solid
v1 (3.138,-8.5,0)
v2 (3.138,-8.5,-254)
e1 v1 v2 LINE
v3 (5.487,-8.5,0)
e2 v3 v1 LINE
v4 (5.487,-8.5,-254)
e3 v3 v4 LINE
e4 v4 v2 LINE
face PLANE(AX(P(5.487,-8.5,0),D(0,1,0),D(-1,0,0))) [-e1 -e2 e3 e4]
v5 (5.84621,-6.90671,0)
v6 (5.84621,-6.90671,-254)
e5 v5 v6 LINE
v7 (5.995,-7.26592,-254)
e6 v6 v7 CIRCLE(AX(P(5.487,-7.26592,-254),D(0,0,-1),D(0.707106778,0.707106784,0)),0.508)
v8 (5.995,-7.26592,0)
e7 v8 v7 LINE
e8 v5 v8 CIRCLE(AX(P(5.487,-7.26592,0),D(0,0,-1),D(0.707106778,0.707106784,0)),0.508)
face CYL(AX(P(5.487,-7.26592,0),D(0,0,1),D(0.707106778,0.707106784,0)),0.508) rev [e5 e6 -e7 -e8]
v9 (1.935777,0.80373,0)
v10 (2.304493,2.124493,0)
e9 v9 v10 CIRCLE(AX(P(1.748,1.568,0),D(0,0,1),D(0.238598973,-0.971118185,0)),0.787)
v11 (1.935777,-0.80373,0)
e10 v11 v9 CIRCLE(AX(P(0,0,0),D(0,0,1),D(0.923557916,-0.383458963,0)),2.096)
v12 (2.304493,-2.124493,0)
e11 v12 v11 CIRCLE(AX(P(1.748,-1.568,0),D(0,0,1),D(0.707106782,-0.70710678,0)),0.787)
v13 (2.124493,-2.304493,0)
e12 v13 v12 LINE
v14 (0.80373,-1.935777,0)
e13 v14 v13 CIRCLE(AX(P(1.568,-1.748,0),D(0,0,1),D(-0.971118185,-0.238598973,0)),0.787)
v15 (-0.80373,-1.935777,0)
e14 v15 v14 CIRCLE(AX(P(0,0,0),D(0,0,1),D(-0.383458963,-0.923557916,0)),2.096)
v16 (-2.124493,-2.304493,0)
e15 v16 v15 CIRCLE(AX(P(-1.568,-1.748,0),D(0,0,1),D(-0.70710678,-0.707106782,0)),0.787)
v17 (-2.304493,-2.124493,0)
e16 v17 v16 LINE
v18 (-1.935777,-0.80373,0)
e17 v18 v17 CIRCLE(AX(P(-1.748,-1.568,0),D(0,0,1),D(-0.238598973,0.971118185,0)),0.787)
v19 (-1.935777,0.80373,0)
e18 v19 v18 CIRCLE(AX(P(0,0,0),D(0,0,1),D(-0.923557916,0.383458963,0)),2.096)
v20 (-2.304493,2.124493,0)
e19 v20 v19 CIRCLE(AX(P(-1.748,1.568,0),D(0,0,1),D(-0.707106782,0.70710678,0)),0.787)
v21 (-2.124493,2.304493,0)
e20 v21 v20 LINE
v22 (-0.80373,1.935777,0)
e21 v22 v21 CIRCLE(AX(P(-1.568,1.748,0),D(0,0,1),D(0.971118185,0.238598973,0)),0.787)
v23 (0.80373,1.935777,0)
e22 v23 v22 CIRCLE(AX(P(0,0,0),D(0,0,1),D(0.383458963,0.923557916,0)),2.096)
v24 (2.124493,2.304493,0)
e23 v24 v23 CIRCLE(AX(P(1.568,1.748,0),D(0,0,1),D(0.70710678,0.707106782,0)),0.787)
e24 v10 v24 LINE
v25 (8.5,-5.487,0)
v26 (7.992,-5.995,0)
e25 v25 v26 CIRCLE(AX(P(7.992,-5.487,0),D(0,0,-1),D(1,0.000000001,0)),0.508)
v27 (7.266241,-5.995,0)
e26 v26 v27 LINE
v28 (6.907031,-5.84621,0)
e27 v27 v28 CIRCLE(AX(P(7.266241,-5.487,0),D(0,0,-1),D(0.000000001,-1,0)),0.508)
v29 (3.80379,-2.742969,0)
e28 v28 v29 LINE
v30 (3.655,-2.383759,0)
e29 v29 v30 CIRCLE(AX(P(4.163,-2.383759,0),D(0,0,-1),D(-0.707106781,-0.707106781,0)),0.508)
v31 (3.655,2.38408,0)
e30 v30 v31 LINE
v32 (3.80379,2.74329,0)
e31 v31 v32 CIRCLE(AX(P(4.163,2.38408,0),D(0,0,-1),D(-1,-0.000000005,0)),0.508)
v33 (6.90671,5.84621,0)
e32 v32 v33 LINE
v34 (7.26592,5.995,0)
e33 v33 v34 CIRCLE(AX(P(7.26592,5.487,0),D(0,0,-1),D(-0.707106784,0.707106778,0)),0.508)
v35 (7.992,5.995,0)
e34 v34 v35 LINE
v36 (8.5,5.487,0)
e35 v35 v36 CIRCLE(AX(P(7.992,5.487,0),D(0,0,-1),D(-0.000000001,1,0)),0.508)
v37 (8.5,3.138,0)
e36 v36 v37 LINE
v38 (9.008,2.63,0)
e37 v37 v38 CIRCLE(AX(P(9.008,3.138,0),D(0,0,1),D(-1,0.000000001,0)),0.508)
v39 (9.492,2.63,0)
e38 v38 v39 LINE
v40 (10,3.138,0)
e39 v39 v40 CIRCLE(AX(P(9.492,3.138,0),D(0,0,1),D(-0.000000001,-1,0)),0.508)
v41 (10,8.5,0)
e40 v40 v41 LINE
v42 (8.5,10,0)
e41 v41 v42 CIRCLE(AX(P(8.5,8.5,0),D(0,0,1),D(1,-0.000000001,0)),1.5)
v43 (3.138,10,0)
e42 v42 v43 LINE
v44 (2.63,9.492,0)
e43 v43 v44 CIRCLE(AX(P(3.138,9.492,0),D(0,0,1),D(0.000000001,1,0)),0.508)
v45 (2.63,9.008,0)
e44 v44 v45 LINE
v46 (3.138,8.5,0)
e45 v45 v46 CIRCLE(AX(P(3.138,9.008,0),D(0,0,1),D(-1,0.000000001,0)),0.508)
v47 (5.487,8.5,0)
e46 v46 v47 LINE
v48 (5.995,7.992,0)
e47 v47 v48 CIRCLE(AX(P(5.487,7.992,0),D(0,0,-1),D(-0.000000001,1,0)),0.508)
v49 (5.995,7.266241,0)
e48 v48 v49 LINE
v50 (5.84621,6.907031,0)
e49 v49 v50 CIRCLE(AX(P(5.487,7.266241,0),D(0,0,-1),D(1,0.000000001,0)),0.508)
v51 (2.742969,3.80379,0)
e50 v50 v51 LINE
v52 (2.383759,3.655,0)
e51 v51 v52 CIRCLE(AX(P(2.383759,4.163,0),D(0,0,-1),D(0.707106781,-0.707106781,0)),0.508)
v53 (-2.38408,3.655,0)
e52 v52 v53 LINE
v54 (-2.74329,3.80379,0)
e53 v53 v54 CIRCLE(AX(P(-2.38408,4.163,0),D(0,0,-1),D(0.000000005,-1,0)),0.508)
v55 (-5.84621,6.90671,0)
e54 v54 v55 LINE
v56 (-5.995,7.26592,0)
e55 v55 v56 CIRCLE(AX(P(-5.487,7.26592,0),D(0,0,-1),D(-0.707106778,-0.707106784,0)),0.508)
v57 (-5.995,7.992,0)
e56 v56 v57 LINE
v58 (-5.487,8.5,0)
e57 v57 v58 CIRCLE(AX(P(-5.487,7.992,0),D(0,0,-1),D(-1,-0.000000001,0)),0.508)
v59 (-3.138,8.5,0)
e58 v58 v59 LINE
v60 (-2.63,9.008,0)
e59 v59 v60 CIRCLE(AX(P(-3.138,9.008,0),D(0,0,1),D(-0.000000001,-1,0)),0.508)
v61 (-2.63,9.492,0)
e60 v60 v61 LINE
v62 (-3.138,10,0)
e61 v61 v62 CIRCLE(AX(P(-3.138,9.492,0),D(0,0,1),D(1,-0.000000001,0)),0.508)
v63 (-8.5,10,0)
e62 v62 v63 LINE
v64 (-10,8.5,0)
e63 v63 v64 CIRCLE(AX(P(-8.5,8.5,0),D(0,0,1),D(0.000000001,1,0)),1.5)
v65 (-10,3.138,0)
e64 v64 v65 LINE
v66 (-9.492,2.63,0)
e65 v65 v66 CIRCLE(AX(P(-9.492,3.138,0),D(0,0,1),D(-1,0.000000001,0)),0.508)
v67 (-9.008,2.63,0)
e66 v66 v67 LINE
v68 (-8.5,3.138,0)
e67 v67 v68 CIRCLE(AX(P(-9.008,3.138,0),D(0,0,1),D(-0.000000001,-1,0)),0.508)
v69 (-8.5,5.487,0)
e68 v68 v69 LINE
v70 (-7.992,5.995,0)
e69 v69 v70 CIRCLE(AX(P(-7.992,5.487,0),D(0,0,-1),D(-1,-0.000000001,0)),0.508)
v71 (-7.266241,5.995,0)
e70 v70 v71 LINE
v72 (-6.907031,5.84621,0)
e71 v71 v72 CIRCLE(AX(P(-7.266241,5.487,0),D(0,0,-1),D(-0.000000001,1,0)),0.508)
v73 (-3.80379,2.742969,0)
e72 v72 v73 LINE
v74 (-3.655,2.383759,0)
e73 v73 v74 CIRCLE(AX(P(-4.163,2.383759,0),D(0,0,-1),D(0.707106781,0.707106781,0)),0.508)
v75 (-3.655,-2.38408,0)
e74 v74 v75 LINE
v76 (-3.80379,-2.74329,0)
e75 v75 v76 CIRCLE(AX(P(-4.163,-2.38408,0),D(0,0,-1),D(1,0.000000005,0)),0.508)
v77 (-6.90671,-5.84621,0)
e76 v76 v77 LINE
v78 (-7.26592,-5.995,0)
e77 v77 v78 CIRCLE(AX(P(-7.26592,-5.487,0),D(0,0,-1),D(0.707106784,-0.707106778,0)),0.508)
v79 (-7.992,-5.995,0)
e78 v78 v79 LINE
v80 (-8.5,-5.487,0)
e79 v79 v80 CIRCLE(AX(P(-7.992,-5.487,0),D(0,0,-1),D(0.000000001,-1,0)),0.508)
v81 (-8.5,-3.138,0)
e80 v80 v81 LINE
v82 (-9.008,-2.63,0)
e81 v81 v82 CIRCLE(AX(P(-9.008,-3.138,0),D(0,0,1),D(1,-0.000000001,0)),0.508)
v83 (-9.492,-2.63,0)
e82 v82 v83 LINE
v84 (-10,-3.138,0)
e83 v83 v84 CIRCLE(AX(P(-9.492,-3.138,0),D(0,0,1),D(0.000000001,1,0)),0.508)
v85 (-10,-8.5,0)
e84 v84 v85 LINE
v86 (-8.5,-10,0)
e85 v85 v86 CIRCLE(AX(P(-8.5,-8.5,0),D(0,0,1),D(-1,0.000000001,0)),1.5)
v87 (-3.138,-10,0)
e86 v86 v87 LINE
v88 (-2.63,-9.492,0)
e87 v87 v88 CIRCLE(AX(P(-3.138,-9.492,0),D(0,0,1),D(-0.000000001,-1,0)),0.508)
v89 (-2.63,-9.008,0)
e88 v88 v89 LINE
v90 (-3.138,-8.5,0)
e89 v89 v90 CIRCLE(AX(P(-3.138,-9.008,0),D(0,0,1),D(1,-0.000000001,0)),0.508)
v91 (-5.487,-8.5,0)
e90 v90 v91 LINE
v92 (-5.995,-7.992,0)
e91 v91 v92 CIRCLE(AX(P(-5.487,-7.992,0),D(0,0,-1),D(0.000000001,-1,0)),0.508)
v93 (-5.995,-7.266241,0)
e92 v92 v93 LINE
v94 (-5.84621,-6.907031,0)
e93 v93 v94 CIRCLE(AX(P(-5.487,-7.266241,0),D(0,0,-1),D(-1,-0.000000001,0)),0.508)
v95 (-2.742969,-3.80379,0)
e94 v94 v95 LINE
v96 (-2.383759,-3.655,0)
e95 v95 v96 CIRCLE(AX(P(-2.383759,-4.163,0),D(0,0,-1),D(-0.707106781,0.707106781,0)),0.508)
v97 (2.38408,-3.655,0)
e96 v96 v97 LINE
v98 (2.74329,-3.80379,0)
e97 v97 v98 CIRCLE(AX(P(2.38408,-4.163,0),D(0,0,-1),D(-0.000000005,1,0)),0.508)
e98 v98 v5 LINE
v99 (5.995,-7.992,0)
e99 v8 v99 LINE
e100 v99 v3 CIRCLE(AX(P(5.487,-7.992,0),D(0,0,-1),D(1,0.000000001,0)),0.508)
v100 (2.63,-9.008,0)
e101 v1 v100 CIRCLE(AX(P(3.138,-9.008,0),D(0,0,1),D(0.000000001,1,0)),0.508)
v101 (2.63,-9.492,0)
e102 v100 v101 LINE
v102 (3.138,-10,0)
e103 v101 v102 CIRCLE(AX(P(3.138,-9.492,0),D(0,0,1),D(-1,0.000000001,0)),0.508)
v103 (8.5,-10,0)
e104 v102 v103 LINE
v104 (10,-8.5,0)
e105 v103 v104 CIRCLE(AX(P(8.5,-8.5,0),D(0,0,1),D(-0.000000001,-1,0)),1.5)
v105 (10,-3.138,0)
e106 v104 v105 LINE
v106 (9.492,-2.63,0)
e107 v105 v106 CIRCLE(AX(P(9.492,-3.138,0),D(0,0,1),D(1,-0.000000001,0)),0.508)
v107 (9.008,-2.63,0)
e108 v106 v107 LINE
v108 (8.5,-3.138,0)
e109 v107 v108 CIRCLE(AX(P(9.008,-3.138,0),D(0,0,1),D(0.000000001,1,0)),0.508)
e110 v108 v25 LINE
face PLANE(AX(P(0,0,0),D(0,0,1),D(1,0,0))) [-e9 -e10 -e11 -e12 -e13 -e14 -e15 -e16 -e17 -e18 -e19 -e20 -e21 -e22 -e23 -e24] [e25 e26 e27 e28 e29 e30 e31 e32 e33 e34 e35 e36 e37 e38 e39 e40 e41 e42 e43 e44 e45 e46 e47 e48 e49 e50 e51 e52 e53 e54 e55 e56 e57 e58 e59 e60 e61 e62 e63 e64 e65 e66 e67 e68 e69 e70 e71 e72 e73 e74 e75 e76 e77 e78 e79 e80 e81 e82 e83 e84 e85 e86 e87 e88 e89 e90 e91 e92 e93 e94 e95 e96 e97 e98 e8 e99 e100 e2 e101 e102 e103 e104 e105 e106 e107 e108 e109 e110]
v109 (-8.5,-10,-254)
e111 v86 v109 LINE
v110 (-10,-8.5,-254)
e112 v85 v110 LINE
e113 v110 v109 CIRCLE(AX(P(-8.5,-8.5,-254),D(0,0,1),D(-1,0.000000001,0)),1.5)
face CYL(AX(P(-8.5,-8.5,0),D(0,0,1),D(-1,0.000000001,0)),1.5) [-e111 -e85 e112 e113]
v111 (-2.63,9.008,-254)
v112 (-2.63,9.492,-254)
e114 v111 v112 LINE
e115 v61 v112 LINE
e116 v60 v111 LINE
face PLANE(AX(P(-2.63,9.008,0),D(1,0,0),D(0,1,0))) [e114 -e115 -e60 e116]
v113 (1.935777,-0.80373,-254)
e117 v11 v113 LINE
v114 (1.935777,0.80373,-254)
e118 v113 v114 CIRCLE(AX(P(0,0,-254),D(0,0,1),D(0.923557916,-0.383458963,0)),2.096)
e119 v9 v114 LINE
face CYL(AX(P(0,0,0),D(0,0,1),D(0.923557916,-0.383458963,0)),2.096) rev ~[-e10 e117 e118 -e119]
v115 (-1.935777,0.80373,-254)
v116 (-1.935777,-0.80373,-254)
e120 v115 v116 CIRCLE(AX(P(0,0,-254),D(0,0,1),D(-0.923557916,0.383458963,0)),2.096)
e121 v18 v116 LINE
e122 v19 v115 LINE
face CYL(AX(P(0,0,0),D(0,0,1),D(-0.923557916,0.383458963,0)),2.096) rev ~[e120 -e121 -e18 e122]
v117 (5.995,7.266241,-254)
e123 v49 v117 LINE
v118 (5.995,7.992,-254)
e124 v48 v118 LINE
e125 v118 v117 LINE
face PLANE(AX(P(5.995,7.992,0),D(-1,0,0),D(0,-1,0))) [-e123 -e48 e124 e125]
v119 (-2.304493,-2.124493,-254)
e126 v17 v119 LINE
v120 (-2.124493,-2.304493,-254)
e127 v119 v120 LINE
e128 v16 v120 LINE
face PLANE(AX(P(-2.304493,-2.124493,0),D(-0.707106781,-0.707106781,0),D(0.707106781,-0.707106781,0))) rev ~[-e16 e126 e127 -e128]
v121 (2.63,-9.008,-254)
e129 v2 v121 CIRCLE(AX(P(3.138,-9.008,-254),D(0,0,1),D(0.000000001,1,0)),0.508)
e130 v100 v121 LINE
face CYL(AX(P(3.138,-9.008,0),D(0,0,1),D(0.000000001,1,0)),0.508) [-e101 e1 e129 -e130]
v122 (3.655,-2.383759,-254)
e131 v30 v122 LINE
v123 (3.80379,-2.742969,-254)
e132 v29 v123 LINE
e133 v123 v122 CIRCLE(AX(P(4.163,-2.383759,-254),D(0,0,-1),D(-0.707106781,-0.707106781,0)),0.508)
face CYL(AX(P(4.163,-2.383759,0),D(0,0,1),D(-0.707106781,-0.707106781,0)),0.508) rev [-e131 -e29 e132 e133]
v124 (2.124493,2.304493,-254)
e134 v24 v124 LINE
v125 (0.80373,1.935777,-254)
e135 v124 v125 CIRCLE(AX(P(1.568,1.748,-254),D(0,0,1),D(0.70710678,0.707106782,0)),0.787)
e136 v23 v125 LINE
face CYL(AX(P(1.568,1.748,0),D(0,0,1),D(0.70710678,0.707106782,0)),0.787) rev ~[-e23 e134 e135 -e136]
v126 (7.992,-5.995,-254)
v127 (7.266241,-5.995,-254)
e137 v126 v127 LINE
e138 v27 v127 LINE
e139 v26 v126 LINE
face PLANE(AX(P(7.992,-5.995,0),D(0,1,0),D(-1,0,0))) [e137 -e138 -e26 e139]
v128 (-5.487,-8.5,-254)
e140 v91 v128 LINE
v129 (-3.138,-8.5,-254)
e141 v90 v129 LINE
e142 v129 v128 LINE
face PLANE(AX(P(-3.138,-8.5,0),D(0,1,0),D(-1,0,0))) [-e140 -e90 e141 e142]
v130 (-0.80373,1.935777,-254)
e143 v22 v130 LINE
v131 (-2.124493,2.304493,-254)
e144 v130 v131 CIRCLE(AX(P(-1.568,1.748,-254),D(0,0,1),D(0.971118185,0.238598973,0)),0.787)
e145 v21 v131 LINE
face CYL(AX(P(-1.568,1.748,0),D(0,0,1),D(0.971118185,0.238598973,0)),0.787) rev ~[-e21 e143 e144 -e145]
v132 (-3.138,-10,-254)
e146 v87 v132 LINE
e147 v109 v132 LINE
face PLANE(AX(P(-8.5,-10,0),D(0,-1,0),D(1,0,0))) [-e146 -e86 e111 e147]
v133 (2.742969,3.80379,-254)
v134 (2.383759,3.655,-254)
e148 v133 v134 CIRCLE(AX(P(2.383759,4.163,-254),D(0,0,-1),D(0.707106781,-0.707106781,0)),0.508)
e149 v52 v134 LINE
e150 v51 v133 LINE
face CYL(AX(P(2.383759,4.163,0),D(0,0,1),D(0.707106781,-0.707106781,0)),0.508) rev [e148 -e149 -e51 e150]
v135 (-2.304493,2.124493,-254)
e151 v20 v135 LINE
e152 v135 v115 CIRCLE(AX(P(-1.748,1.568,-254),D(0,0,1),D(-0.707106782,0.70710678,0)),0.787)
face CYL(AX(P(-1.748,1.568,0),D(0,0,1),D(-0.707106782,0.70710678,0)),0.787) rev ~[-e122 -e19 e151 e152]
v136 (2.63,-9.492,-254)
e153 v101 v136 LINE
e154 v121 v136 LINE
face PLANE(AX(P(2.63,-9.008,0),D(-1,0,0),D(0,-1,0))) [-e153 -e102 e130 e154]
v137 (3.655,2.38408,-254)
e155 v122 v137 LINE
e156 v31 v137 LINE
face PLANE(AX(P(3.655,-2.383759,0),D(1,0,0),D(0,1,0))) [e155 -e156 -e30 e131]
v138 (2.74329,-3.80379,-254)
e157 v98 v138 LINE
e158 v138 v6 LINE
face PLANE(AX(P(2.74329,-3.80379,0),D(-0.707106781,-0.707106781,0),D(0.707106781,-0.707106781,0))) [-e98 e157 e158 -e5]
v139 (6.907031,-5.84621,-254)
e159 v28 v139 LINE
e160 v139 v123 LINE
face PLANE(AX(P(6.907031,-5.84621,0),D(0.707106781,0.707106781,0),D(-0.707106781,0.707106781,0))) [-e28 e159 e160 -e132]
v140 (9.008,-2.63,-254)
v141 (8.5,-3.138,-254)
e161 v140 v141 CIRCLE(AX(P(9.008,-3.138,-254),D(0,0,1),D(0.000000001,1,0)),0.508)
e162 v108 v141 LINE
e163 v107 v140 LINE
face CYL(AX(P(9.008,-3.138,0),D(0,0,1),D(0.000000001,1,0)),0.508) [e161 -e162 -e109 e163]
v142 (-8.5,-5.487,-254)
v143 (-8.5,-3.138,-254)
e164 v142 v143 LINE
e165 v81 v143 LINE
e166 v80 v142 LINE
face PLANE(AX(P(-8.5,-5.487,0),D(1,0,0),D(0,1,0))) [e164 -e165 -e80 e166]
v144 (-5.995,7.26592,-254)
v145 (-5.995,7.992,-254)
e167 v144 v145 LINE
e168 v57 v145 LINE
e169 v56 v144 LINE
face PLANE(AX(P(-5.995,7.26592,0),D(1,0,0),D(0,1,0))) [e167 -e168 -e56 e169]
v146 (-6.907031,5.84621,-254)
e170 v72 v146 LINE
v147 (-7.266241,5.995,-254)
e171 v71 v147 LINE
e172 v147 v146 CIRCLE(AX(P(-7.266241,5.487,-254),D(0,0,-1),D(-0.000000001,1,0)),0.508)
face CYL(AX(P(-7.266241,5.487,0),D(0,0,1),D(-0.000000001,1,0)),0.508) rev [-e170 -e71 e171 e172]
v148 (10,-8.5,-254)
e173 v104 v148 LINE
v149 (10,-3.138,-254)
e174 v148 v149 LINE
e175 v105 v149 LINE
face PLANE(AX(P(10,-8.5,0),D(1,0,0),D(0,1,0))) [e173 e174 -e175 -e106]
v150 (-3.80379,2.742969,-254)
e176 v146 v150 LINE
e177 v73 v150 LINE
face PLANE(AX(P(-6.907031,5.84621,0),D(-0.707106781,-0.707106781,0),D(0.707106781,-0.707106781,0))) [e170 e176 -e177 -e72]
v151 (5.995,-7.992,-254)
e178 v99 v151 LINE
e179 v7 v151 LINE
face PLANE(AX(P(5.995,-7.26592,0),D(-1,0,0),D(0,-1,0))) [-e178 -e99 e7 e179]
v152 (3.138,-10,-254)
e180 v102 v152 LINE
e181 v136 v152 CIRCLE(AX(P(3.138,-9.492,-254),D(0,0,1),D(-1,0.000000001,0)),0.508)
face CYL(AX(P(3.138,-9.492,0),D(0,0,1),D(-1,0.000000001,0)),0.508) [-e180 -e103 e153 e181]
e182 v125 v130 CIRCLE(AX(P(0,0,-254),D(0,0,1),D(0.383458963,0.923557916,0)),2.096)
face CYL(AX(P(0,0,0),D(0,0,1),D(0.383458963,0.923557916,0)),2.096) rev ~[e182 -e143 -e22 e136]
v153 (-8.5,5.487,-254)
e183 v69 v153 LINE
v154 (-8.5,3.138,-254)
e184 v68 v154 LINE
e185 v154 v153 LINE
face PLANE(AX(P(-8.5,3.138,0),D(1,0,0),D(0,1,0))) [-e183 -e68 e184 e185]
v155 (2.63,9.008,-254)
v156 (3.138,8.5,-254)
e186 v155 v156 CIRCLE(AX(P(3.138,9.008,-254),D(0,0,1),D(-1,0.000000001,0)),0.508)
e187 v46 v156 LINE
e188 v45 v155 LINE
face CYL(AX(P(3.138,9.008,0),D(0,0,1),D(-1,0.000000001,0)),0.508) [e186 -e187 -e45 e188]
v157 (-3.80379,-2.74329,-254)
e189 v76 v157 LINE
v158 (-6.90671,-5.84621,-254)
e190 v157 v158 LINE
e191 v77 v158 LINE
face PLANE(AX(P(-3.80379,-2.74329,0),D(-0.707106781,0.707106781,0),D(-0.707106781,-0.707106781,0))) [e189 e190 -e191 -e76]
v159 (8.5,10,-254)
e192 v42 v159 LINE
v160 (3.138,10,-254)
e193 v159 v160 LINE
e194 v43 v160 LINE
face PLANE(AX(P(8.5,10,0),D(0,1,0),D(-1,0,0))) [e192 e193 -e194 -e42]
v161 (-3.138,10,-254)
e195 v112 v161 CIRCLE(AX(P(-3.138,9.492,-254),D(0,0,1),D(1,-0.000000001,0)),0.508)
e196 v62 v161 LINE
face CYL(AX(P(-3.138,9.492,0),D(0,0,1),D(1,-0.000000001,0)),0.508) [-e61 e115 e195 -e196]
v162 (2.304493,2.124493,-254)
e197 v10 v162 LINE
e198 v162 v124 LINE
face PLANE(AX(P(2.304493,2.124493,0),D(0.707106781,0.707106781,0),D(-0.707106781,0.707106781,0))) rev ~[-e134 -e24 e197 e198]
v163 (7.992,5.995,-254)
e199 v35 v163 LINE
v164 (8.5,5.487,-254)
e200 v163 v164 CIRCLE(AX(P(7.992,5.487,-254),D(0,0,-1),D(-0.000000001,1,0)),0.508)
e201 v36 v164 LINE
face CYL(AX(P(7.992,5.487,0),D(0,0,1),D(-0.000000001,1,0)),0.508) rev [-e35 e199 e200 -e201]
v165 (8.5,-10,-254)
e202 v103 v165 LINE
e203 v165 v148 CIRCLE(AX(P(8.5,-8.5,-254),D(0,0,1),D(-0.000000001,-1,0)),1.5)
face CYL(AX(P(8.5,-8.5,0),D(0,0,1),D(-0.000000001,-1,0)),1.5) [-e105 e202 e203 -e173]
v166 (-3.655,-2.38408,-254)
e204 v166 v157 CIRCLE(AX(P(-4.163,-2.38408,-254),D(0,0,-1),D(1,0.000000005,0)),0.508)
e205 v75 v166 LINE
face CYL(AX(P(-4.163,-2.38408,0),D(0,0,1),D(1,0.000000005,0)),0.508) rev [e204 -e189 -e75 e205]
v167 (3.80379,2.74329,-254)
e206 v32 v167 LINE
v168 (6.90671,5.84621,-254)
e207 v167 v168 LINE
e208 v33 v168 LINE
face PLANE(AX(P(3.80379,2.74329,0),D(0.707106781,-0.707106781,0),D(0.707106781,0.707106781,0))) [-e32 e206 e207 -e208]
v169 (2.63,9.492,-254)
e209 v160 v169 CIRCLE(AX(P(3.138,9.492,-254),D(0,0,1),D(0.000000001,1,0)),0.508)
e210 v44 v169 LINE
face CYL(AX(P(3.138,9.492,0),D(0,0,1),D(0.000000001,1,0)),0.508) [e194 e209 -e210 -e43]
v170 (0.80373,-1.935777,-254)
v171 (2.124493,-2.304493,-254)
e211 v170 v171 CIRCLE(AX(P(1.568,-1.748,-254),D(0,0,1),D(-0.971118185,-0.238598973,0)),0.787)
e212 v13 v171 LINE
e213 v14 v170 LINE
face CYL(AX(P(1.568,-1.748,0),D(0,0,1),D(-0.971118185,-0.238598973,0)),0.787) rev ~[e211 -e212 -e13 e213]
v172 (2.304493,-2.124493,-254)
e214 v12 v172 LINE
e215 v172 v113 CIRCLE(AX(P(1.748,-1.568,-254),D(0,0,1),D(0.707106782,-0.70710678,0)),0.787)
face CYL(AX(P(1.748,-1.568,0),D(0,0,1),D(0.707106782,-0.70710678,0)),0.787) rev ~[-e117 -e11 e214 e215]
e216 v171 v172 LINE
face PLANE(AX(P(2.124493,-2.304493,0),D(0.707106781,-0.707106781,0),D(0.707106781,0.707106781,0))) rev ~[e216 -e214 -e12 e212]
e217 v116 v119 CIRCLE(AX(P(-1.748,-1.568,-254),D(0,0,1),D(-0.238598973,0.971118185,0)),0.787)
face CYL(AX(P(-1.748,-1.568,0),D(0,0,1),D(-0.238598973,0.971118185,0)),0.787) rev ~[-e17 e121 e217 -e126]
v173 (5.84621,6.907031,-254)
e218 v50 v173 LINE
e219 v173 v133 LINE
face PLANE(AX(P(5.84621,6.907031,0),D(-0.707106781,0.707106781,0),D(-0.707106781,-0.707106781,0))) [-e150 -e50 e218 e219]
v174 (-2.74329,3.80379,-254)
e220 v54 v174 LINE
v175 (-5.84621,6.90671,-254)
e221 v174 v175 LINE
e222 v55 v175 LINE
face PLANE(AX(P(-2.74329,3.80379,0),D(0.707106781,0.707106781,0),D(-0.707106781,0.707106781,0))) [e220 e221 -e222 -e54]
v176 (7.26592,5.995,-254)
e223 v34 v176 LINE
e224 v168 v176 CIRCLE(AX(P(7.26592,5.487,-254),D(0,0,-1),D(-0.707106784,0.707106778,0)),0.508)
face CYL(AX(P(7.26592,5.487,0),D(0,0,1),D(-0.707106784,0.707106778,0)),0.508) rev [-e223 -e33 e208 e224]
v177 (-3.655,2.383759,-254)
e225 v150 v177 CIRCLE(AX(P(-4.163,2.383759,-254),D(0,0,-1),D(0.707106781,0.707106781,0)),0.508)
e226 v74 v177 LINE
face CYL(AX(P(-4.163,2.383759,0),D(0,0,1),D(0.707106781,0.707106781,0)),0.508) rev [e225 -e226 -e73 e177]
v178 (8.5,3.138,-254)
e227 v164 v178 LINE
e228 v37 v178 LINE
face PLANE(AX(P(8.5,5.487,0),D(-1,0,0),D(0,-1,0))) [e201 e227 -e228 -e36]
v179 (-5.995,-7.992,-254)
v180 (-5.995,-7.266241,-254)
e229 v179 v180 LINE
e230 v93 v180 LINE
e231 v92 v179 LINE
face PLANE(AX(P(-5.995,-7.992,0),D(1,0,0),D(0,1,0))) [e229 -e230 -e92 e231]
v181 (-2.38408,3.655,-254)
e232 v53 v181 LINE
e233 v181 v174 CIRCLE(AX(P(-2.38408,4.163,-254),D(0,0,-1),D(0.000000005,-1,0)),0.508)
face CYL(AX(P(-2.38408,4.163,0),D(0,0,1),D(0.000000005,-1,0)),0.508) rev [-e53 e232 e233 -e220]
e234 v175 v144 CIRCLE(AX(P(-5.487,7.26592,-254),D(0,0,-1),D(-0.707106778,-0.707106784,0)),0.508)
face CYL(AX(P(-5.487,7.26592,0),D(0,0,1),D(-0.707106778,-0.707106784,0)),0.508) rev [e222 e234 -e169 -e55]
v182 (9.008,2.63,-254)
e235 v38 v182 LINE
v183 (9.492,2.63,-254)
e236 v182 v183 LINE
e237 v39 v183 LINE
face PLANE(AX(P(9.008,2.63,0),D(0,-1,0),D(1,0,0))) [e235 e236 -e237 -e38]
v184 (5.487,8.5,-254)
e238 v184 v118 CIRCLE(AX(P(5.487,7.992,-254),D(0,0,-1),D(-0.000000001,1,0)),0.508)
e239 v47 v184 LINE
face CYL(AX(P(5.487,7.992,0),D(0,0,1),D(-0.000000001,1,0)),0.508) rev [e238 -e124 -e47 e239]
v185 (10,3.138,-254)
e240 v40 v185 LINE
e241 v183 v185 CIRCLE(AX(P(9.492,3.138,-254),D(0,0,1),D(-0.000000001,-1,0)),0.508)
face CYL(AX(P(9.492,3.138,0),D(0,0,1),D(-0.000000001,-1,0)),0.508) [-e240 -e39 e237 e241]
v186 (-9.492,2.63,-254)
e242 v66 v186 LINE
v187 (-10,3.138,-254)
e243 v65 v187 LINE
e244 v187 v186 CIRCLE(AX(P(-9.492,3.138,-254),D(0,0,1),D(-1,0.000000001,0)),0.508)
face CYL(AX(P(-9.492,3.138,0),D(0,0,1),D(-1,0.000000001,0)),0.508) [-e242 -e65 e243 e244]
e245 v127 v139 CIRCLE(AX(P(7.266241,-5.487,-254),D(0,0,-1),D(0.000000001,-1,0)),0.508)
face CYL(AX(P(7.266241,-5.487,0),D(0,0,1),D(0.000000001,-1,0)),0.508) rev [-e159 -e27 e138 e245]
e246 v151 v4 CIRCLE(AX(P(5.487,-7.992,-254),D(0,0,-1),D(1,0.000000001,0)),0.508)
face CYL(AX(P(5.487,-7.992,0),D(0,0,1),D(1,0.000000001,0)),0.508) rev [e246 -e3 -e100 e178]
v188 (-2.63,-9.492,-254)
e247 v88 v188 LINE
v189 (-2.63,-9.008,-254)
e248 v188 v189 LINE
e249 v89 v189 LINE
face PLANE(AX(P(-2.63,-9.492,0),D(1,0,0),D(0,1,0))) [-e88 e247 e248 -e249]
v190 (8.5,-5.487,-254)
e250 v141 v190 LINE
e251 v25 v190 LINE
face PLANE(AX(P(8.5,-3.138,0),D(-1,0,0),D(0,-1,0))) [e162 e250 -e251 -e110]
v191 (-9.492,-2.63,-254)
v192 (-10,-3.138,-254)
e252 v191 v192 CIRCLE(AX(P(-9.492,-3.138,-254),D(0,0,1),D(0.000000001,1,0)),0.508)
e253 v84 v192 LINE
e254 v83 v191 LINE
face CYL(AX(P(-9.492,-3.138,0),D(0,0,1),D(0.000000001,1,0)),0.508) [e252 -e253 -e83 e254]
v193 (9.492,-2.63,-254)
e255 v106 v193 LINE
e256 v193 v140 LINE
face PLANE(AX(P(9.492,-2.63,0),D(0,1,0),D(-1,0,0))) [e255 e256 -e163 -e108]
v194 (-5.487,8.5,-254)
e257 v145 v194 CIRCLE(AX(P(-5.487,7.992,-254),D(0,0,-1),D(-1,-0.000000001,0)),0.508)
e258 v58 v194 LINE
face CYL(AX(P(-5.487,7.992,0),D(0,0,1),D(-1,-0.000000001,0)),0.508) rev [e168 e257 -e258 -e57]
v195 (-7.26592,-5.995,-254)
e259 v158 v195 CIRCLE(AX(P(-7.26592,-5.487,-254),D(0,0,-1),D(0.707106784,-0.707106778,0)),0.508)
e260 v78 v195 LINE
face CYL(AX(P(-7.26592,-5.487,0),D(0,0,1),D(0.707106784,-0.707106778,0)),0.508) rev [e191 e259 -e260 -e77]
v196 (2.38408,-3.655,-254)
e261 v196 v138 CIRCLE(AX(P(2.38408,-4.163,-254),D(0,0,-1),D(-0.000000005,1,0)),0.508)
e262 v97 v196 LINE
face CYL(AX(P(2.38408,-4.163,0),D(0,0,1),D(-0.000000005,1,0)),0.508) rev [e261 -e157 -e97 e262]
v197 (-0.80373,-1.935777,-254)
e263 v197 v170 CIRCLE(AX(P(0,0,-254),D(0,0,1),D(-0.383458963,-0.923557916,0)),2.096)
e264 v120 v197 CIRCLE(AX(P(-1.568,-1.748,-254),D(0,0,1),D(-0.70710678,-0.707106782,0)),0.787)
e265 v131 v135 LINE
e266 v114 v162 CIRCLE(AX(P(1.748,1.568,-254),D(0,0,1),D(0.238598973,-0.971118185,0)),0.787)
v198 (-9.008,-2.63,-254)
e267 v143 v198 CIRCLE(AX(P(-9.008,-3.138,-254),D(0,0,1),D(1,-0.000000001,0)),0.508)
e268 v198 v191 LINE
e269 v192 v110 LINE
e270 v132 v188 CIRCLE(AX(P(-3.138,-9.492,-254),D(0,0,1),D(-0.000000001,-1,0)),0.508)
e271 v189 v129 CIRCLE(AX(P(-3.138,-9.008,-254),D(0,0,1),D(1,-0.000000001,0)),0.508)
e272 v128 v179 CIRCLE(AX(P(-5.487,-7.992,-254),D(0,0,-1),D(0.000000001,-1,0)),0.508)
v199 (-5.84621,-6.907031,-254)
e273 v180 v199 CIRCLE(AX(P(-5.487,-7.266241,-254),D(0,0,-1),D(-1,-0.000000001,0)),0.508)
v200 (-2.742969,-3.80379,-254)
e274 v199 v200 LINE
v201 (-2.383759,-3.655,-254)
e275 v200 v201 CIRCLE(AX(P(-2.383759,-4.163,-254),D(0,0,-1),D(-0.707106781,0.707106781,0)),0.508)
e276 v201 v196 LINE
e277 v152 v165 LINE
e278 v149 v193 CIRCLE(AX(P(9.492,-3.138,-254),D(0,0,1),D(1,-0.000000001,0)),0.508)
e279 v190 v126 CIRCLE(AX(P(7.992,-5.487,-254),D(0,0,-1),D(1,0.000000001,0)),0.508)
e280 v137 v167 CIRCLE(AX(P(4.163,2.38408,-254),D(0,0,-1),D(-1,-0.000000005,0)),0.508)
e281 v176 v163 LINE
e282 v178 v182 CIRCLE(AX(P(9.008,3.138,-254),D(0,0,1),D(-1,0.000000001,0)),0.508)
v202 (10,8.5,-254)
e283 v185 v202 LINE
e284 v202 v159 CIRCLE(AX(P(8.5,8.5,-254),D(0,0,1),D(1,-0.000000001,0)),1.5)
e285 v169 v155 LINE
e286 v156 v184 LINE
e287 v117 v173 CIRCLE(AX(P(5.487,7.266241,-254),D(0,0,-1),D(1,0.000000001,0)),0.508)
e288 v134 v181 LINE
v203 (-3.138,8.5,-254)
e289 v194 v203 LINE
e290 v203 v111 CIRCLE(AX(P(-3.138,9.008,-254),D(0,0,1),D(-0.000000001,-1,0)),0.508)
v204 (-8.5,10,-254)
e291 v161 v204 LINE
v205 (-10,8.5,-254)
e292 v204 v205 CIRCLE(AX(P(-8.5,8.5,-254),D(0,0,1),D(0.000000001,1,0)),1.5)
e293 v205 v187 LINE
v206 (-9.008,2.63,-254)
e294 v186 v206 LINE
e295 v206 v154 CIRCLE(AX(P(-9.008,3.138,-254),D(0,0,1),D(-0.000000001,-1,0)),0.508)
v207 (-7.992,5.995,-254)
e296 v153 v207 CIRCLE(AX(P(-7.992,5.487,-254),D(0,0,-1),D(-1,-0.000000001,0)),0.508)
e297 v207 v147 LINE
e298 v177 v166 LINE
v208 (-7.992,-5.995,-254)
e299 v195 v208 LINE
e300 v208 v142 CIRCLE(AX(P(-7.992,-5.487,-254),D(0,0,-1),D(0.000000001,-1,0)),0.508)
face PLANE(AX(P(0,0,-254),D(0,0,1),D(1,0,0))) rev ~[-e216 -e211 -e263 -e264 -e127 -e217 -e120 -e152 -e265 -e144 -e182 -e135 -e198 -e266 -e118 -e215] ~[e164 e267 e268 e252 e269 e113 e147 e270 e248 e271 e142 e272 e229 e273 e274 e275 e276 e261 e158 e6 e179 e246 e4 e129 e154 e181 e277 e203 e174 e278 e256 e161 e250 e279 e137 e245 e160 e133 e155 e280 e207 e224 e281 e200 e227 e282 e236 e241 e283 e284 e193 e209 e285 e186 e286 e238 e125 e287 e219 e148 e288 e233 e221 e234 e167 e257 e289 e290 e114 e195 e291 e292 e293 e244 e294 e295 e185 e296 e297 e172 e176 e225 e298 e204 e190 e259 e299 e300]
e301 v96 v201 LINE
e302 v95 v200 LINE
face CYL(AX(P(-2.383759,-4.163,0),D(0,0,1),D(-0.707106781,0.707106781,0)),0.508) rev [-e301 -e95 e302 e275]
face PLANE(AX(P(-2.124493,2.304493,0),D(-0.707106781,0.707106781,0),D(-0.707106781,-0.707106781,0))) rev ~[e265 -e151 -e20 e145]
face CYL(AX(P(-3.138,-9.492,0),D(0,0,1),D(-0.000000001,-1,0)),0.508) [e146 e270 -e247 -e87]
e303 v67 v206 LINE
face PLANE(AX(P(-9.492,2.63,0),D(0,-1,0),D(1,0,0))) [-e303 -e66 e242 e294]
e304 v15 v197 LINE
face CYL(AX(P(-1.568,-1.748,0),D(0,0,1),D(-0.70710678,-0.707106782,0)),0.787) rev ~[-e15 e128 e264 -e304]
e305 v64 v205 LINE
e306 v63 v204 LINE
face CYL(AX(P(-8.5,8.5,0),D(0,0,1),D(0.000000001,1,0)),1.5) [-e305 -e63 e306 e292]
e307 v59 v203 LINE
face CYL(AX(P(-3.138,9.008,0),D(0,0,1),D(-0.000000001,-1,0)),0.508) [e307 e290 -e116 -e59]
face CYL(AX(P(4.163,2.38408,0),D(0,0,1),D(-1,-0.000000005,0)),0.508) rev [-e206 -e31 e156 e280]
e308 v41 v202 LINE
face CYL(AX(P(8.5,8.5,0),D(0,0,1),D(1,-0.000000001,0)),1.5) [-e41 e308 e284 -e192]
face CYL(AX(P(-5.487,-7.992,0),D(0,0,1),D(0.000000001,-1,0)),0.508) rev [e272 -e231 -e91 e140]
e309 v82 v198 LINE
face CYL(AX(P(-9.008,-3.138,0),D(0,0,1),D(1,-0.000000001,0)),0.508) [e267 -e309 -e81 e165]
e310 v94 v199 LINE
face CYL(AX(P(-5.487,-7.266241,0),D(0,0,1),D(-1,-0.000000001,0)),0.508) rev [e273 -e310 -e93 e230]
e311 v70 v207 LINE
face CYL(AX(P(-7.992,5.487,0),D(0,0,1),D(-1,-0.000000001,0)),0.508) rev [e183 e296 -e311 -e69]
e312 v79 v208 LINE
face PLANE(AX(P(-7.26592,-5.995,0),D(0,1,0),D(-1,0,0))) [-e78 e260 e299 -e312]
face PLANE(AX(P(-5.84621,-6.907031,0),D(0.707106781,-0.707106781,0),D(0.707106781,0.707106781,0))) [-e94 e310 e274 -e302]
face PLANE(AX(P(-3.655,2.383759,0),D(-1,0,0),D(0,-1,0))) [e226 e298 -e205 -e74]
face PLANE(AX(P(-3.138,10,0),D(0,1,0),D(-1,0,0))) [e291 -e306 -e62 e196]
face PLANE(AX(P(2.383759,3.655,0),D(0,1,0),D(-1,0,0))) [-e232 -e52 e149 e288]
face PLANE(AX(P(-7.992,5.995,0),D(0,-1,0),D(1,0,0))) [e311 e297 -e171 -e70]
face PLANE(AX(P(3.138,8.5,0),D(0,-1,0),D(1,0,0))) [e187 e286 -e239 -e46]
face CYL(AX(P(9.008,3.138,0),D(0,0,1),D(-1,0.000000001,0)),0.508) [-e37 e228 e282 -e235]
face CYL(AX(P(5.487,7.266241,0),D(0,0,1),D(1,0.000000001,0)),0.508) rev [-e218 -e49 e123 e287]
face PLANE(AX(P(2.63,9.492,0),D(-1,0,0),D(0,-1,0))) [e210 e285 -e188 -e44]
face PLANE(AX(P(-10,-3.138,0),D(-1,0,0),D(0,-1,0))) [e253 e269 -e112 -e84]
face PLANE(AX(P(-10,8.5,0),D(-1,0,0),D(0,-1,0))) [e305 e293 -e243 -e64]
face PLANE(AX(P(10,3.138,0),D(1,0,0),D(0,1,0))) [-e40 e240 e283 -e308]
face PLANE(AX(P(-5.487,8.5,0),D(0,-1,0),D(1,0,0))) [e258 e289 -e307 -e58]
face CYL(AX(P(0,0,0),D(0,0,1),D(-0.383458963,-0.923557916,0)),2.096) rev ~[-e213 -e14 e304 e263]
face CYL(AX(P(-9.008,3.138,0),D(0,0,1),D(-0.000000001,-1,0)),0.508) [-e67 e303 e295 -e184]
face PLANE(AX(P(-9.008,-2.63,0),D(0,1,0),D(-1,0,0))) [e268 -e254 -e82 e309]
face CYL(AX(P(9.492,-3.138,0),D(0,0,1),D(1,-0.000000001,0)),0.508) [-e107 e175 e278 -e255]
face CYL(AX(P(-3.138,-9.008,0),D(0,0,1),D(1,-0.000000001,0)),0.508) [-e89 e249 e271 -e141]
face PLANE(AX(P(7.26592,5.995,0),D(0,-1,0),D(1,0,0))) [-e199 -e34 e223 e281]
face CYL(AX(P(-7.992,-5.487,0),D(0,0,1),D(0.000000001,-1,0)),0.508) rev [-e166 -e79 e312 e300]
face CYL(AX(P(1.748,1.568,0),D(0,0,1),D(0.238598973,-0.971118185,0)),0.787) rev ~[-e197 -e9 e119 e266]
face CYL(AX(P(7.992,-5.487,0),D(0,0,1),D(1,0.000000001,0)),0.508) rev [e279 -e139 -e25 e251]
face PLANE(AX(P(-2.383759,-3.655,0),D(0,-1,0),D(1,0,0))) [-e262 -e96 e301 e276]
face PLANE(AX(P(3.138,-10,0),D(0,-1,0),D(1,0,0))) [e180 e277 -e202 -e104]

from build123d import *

# Parameters (mm, degrees)
BOSS_EXTRUDE1_DEPTH = 254


with BuildPart() as part:
    # Sketch2 → Boss-Extrude1 (new body)
    with BuildSketch(Plane.XY):
        with BuildLine():
            Line((-10, -3.138), (-10, -8.5))
            ThreePointArc((-10, -8.5), (-9.560660172, -9.560660172), (-8.5, -10))
            Line((-8.5, -10), (-3.138, -10))
            ThreePointArc((-3.138, -10), (-2.778789755, -9.851210245), (-2.63, -9.492))
            Line((-2.63, -9.492), (-2.63, -9.008))
            ThreePointArc((-2.63, -9.008), (-2.778789755, -8.648789755), (-3.138, -8.5))
            Line((-3.138, -8.5), (-5.487, -8.5))
            ThreePointArc((-5.487, -8.5), (-5.846210245, -8.351210245), (-5.995, -7.992))
            Line((-5.995, -7.992), (-5.995, -7.266240833))
            ThreePointArc((-5.995, -7.266240833), (-5.956330803, -7.07183765), (-5.846210245, -6.907030588))
            Line((-5.846210245, -6.907030588), (-2.742969412, -3.803789755))
            ThreePointArc((-2.742969412, -3.803789755), (-2.57816235, -3.693669197), (-2.383759167, -3.655))
            Line((-2.383759167, -3.655), (2.38407951, -3.655))
            ThreePointArc((2.38407951, -3.655), (2.578482694, -3.693669197), (2.743289755, -3.803789755))
            Line((2.743289755, -3.803789755), (5.846210245, -6.906710245))
            ThreePointArc((5.846210245, -6.906710245), (5.956330803, -7.071517306), (5.995, -7.26592049))
            Line((5.995, -7.26592049), (5.995, -7.992))
            ThreePointArc((5.995, -7.992), (5.846210245, -8.351210245), (5.487, -8.5))
            Line((5.487, -8.5), (3.138, -8.5))
            ThreePointArc((3.138, -8.5), (2.778789755, -8.648789755), (2.63, -9.008))
            Line((2.63, -9.008), (2.63, -9.492))
            ThreePointArc((2.63, -9.492), (2.778789755, -9.851210245), (3.138, -10))
            Line((3.138, -10), (8.5, -10))
            ThreePointArc((8.5, -10), (9.560660172, -9.560660172), (10, -8.5))
            Line((10, -8.5), (10, -3.138))
            ThreePointArc((10, -3.138), (9.851210245, -2.778789755), (9.492, -2.63))
            Line((9.492, -2.63), (9.008, -2.63))
            ThreePointArc((9.008, -2.63), (8.648789755, -2.778789755), (8.5, -3.138))
            Line((8.5, -3.138), (8.5, -5.487))
            ThreePointArc((8.5, -5.487), (8.351210245, -5.846210245), (7.992, -5.995))
            Line((7.992, -5.995), (7.266240833, -5.995))
            ThreePointArc((7.266240833, -5.995), (7.07183765, -5.956330803), (6.907030588, -5.846210245))
            Line((6.907030588, -5.846210245), (3.803789755, -2.742969412))
            ThreePointArc((3.803789755, -2.742969412), (3.693669197, -2.57816235), (3.655, -2.383759167))
            Line((3.655, -2.383759167), (3.655, 2.38407951))
            ThreePointArc((3.655, 2.38407951), (3.693669197, 2.578482694), (3.803789755, 2.743289755))
            Line((3.803789755, 2.743289755), (6.906710245, 5.846210245))
            ThreePointArc((6.906710245, 5.846210245), (7.071517306, 5.956330803), (7.26592049, 5.995))
            Line((7.26592049, 5.995), (7.992, 5.995))
            ThreePointArc((7.992, 5.995), (8.351210245, 5.846210245), (8.5, 5.487))
            Line((8.5, 5.487), (8.5, 3.138))
            ThreePointArc((8.5, 3.138), (8.648789755, 2.778789755), (9.008, 2.63))
            Line((9.008, 2.63), (9.492, 2.63))
            ThreePointArc((9.492, 2.63), (9.851210245, 2.778789755), (10, 3.138))
            Line((10, 3.138), (10, 8.5))
            ThreePointArc((10, 8.5), (9.560660172, 9.560660172), (8.5, 10))
            Line((8.5, 10), (3.138, 10))
            ThreePointArc((3.138, 10), (2.778789755, 9.851210245), (2.63, 9.492))
            Line((2.63, 9.492), (2.63, 9.008))
            ThreePointArc((2.63, 9.008), (2.778789755, 8.648789755), (3.138, 8.5))
            Line((3.138, 8.5), (5.487, 8.5))
            ThreePointArc((5.487, 8.5), (5.846210245, 8.351210245), (5.995, 7.992))
            Line((5.995, 7.992), (5.995, 7.266240833))
            ThreePointArc((5.995, 7.266240833), (5.956330803, 7.07183765), (5.846210245, 6.907030588))
            Line((5.846210245, 6.907030588), (2.742969412, 3.803789755))
            ThreePointArc((2.742969412, 3.803789755), (2.57816235, 3.693669197), (2.383759167, 3.655))
            Line((2.383759167, 3.655), (-2.38407951, 3.655))
            ThreePointArc((-2.38407951, 3.655), (-2.578482694, 3.693669197), (-2.743289755, 3.803789755))
            Line((-2.743289755, 3.803789755), (-5.846210245, 6.906710245))
            ThreePointArc((-5.846210245, 6.906710245), (-5.956330803, 7.071517306), (-5.995, 7.26592049))
            Line((-5.995, 7.26592049), (-5.995, 7.992))
            ThreePointArc((-5.995, 7.992), (-5.846210245, 8.351210245), (-5.487, 8.5))
            Line((-5.487, 8.5), (-3.138, 8.5))
            ThreePointArc((-3.138, 8.5), (-2.778789755, 8.648789755), (-2.63, 9.008))
            Line((-2.63, 9.008), (-2.63, 9.492))
            ThreePointArc((-2.63, 9.492), (-2.778789755, 9.851210245), (-3.138, 10))
            Line((-3.138, 10), (-8.5, 10))
            ThreePointArc((-8.5, 10), (-9.560660172, 9.560660172), (-10, 8.5))
            Line((-10, 8.5), (-10, 3.138))
            ThreePointArc((-10, 3.138), (-9.851210245, 2.778789755), (-9.492, 2.63))
            Line((-9.492, 2.63), (-9.008, 2.63))
            ThreePointArc((-9.008, 2.63), (-8.648789755, 2.778789755), (-8.5, 3.138))
            Line((-8.5, 3.138), (-8.5, 5.487))
            ThreePointArc((-8.5, 5.487), (-8.351210245, 5.846210245), (-7.992, 5.995))
            Line((-7.992, 5.995), (-7.266240833, 5.995))
            ThreePointArc((-7.266240833, 5.995), (-7.07183765, 5.956330803), (-6.907030588, 5.846210245))
            Line((-6.907030588, 5.846210245), (-3.803789755, 2.742969412))
            ThreePointArc((-3.803789755, 2.742969412), (-3.693669197, 2.57816235), (-3.655, 2.383759167))
            Line((-3.655, 2.383759167), (-3.655, -2.38407951))
            ThreePointArc((-3.655, -2.38407951), (-3.693669197, -2.578482694), (-3.803789755, -2.743289755))
            Line((-3.803789755, -2.743289755), (-6.906710245, -5.846210245))
            ThreePointArc((-6.906710245, -5.846210245), (-7.071517306, -5.956330803), (-7.26592049, -5.995))
            Line((-7.26592049, -5.995), (-7.992, -5.995))
            ThreePointArc((-7.992, -5.995), (-8.351210245, -5.846210245), (-8.5, -5.487))
            Line((-8.5, -5.487), (-8.5, -3.138))
            ThreePointArc((-8.5, -3.138), (-8.648789755, -2.778789755), (-9.008, -2.63))
            Line((-9.008, -2.63), (-9.492, -2.63))
            ThreePointArc((-9.492, -2.63), (-9.851210245, -2.778789755), (-10, -3.138))
        make_face()
        with BuildLine():
            Line((-2.124493037, 2.304493037), (-2.304493037, 2.124493037))
            ThreePointArc((-2.304493037, 2.124493037), (-2.506016078, 1.35638567), (-1.935777391, 0.803729988))
            ThreePointArc((-1.935777391, 0.803729988), (-2.096, 0), (-1.935777391, -0.803729988))
            ThreePointArc((-1.935777391, -0.803729988), (-2.506016078, -1.35638567), (-2.304493037, -2.124493037))
            Line((-2.304493037, -2.124493037), (-2.124493037, -2.304493037))
            ThreePointArc((-2.124493037, -2.304493037), (-1.35638567, -2.506016078), (-0.803729988, -1.935777391))
            ThreePointArc((-0.803729988, -1.935777391), (0, -2.096), (0.803729988, -1.935777391))
            ThreePointArc((0.803729988, -1.935777391), (1.35638567, -2.506016078), (2.124493037, -2.304493037))
            Line((2.124493037, -2.304493037), (2.304493037, -2.124493037))
            ThreePointArc((2.304493037, -2.124493037), (2.506016078, -1.35638567), (1.935777391, -0.803729988))
            ThreePointArc((1.935777391, -0.803729988), (2.096, 0), (1.935777391, 0.803729988))
            ThreePointArc((1.935777391, 0.803729988), (2.506016078, 1.35638567), (2.304493037, 2.124493037))
            Line((2.304493037, 2.124493037), (2.124493037, 2.304493037))
            ThreePointArc((2.124493037, 2.304493037), (1.35638567, 2.506016078), (0.803729988, 1.935777391))
            ThreePointArc((0.803729988, 1.935777391), (0, 2.096), (-0.803729988, 1.935777391))
            ThreePointArc((-0.803729988, 1.935777391), (-1.35638567, 2.506016078), (-2.124493037, 2.304493037))
        make_face(mode=Mode.SUBTRACT)
    extrude(amount=-BOSS_EXTRUDE1_DEPTH)


solid = part.part
